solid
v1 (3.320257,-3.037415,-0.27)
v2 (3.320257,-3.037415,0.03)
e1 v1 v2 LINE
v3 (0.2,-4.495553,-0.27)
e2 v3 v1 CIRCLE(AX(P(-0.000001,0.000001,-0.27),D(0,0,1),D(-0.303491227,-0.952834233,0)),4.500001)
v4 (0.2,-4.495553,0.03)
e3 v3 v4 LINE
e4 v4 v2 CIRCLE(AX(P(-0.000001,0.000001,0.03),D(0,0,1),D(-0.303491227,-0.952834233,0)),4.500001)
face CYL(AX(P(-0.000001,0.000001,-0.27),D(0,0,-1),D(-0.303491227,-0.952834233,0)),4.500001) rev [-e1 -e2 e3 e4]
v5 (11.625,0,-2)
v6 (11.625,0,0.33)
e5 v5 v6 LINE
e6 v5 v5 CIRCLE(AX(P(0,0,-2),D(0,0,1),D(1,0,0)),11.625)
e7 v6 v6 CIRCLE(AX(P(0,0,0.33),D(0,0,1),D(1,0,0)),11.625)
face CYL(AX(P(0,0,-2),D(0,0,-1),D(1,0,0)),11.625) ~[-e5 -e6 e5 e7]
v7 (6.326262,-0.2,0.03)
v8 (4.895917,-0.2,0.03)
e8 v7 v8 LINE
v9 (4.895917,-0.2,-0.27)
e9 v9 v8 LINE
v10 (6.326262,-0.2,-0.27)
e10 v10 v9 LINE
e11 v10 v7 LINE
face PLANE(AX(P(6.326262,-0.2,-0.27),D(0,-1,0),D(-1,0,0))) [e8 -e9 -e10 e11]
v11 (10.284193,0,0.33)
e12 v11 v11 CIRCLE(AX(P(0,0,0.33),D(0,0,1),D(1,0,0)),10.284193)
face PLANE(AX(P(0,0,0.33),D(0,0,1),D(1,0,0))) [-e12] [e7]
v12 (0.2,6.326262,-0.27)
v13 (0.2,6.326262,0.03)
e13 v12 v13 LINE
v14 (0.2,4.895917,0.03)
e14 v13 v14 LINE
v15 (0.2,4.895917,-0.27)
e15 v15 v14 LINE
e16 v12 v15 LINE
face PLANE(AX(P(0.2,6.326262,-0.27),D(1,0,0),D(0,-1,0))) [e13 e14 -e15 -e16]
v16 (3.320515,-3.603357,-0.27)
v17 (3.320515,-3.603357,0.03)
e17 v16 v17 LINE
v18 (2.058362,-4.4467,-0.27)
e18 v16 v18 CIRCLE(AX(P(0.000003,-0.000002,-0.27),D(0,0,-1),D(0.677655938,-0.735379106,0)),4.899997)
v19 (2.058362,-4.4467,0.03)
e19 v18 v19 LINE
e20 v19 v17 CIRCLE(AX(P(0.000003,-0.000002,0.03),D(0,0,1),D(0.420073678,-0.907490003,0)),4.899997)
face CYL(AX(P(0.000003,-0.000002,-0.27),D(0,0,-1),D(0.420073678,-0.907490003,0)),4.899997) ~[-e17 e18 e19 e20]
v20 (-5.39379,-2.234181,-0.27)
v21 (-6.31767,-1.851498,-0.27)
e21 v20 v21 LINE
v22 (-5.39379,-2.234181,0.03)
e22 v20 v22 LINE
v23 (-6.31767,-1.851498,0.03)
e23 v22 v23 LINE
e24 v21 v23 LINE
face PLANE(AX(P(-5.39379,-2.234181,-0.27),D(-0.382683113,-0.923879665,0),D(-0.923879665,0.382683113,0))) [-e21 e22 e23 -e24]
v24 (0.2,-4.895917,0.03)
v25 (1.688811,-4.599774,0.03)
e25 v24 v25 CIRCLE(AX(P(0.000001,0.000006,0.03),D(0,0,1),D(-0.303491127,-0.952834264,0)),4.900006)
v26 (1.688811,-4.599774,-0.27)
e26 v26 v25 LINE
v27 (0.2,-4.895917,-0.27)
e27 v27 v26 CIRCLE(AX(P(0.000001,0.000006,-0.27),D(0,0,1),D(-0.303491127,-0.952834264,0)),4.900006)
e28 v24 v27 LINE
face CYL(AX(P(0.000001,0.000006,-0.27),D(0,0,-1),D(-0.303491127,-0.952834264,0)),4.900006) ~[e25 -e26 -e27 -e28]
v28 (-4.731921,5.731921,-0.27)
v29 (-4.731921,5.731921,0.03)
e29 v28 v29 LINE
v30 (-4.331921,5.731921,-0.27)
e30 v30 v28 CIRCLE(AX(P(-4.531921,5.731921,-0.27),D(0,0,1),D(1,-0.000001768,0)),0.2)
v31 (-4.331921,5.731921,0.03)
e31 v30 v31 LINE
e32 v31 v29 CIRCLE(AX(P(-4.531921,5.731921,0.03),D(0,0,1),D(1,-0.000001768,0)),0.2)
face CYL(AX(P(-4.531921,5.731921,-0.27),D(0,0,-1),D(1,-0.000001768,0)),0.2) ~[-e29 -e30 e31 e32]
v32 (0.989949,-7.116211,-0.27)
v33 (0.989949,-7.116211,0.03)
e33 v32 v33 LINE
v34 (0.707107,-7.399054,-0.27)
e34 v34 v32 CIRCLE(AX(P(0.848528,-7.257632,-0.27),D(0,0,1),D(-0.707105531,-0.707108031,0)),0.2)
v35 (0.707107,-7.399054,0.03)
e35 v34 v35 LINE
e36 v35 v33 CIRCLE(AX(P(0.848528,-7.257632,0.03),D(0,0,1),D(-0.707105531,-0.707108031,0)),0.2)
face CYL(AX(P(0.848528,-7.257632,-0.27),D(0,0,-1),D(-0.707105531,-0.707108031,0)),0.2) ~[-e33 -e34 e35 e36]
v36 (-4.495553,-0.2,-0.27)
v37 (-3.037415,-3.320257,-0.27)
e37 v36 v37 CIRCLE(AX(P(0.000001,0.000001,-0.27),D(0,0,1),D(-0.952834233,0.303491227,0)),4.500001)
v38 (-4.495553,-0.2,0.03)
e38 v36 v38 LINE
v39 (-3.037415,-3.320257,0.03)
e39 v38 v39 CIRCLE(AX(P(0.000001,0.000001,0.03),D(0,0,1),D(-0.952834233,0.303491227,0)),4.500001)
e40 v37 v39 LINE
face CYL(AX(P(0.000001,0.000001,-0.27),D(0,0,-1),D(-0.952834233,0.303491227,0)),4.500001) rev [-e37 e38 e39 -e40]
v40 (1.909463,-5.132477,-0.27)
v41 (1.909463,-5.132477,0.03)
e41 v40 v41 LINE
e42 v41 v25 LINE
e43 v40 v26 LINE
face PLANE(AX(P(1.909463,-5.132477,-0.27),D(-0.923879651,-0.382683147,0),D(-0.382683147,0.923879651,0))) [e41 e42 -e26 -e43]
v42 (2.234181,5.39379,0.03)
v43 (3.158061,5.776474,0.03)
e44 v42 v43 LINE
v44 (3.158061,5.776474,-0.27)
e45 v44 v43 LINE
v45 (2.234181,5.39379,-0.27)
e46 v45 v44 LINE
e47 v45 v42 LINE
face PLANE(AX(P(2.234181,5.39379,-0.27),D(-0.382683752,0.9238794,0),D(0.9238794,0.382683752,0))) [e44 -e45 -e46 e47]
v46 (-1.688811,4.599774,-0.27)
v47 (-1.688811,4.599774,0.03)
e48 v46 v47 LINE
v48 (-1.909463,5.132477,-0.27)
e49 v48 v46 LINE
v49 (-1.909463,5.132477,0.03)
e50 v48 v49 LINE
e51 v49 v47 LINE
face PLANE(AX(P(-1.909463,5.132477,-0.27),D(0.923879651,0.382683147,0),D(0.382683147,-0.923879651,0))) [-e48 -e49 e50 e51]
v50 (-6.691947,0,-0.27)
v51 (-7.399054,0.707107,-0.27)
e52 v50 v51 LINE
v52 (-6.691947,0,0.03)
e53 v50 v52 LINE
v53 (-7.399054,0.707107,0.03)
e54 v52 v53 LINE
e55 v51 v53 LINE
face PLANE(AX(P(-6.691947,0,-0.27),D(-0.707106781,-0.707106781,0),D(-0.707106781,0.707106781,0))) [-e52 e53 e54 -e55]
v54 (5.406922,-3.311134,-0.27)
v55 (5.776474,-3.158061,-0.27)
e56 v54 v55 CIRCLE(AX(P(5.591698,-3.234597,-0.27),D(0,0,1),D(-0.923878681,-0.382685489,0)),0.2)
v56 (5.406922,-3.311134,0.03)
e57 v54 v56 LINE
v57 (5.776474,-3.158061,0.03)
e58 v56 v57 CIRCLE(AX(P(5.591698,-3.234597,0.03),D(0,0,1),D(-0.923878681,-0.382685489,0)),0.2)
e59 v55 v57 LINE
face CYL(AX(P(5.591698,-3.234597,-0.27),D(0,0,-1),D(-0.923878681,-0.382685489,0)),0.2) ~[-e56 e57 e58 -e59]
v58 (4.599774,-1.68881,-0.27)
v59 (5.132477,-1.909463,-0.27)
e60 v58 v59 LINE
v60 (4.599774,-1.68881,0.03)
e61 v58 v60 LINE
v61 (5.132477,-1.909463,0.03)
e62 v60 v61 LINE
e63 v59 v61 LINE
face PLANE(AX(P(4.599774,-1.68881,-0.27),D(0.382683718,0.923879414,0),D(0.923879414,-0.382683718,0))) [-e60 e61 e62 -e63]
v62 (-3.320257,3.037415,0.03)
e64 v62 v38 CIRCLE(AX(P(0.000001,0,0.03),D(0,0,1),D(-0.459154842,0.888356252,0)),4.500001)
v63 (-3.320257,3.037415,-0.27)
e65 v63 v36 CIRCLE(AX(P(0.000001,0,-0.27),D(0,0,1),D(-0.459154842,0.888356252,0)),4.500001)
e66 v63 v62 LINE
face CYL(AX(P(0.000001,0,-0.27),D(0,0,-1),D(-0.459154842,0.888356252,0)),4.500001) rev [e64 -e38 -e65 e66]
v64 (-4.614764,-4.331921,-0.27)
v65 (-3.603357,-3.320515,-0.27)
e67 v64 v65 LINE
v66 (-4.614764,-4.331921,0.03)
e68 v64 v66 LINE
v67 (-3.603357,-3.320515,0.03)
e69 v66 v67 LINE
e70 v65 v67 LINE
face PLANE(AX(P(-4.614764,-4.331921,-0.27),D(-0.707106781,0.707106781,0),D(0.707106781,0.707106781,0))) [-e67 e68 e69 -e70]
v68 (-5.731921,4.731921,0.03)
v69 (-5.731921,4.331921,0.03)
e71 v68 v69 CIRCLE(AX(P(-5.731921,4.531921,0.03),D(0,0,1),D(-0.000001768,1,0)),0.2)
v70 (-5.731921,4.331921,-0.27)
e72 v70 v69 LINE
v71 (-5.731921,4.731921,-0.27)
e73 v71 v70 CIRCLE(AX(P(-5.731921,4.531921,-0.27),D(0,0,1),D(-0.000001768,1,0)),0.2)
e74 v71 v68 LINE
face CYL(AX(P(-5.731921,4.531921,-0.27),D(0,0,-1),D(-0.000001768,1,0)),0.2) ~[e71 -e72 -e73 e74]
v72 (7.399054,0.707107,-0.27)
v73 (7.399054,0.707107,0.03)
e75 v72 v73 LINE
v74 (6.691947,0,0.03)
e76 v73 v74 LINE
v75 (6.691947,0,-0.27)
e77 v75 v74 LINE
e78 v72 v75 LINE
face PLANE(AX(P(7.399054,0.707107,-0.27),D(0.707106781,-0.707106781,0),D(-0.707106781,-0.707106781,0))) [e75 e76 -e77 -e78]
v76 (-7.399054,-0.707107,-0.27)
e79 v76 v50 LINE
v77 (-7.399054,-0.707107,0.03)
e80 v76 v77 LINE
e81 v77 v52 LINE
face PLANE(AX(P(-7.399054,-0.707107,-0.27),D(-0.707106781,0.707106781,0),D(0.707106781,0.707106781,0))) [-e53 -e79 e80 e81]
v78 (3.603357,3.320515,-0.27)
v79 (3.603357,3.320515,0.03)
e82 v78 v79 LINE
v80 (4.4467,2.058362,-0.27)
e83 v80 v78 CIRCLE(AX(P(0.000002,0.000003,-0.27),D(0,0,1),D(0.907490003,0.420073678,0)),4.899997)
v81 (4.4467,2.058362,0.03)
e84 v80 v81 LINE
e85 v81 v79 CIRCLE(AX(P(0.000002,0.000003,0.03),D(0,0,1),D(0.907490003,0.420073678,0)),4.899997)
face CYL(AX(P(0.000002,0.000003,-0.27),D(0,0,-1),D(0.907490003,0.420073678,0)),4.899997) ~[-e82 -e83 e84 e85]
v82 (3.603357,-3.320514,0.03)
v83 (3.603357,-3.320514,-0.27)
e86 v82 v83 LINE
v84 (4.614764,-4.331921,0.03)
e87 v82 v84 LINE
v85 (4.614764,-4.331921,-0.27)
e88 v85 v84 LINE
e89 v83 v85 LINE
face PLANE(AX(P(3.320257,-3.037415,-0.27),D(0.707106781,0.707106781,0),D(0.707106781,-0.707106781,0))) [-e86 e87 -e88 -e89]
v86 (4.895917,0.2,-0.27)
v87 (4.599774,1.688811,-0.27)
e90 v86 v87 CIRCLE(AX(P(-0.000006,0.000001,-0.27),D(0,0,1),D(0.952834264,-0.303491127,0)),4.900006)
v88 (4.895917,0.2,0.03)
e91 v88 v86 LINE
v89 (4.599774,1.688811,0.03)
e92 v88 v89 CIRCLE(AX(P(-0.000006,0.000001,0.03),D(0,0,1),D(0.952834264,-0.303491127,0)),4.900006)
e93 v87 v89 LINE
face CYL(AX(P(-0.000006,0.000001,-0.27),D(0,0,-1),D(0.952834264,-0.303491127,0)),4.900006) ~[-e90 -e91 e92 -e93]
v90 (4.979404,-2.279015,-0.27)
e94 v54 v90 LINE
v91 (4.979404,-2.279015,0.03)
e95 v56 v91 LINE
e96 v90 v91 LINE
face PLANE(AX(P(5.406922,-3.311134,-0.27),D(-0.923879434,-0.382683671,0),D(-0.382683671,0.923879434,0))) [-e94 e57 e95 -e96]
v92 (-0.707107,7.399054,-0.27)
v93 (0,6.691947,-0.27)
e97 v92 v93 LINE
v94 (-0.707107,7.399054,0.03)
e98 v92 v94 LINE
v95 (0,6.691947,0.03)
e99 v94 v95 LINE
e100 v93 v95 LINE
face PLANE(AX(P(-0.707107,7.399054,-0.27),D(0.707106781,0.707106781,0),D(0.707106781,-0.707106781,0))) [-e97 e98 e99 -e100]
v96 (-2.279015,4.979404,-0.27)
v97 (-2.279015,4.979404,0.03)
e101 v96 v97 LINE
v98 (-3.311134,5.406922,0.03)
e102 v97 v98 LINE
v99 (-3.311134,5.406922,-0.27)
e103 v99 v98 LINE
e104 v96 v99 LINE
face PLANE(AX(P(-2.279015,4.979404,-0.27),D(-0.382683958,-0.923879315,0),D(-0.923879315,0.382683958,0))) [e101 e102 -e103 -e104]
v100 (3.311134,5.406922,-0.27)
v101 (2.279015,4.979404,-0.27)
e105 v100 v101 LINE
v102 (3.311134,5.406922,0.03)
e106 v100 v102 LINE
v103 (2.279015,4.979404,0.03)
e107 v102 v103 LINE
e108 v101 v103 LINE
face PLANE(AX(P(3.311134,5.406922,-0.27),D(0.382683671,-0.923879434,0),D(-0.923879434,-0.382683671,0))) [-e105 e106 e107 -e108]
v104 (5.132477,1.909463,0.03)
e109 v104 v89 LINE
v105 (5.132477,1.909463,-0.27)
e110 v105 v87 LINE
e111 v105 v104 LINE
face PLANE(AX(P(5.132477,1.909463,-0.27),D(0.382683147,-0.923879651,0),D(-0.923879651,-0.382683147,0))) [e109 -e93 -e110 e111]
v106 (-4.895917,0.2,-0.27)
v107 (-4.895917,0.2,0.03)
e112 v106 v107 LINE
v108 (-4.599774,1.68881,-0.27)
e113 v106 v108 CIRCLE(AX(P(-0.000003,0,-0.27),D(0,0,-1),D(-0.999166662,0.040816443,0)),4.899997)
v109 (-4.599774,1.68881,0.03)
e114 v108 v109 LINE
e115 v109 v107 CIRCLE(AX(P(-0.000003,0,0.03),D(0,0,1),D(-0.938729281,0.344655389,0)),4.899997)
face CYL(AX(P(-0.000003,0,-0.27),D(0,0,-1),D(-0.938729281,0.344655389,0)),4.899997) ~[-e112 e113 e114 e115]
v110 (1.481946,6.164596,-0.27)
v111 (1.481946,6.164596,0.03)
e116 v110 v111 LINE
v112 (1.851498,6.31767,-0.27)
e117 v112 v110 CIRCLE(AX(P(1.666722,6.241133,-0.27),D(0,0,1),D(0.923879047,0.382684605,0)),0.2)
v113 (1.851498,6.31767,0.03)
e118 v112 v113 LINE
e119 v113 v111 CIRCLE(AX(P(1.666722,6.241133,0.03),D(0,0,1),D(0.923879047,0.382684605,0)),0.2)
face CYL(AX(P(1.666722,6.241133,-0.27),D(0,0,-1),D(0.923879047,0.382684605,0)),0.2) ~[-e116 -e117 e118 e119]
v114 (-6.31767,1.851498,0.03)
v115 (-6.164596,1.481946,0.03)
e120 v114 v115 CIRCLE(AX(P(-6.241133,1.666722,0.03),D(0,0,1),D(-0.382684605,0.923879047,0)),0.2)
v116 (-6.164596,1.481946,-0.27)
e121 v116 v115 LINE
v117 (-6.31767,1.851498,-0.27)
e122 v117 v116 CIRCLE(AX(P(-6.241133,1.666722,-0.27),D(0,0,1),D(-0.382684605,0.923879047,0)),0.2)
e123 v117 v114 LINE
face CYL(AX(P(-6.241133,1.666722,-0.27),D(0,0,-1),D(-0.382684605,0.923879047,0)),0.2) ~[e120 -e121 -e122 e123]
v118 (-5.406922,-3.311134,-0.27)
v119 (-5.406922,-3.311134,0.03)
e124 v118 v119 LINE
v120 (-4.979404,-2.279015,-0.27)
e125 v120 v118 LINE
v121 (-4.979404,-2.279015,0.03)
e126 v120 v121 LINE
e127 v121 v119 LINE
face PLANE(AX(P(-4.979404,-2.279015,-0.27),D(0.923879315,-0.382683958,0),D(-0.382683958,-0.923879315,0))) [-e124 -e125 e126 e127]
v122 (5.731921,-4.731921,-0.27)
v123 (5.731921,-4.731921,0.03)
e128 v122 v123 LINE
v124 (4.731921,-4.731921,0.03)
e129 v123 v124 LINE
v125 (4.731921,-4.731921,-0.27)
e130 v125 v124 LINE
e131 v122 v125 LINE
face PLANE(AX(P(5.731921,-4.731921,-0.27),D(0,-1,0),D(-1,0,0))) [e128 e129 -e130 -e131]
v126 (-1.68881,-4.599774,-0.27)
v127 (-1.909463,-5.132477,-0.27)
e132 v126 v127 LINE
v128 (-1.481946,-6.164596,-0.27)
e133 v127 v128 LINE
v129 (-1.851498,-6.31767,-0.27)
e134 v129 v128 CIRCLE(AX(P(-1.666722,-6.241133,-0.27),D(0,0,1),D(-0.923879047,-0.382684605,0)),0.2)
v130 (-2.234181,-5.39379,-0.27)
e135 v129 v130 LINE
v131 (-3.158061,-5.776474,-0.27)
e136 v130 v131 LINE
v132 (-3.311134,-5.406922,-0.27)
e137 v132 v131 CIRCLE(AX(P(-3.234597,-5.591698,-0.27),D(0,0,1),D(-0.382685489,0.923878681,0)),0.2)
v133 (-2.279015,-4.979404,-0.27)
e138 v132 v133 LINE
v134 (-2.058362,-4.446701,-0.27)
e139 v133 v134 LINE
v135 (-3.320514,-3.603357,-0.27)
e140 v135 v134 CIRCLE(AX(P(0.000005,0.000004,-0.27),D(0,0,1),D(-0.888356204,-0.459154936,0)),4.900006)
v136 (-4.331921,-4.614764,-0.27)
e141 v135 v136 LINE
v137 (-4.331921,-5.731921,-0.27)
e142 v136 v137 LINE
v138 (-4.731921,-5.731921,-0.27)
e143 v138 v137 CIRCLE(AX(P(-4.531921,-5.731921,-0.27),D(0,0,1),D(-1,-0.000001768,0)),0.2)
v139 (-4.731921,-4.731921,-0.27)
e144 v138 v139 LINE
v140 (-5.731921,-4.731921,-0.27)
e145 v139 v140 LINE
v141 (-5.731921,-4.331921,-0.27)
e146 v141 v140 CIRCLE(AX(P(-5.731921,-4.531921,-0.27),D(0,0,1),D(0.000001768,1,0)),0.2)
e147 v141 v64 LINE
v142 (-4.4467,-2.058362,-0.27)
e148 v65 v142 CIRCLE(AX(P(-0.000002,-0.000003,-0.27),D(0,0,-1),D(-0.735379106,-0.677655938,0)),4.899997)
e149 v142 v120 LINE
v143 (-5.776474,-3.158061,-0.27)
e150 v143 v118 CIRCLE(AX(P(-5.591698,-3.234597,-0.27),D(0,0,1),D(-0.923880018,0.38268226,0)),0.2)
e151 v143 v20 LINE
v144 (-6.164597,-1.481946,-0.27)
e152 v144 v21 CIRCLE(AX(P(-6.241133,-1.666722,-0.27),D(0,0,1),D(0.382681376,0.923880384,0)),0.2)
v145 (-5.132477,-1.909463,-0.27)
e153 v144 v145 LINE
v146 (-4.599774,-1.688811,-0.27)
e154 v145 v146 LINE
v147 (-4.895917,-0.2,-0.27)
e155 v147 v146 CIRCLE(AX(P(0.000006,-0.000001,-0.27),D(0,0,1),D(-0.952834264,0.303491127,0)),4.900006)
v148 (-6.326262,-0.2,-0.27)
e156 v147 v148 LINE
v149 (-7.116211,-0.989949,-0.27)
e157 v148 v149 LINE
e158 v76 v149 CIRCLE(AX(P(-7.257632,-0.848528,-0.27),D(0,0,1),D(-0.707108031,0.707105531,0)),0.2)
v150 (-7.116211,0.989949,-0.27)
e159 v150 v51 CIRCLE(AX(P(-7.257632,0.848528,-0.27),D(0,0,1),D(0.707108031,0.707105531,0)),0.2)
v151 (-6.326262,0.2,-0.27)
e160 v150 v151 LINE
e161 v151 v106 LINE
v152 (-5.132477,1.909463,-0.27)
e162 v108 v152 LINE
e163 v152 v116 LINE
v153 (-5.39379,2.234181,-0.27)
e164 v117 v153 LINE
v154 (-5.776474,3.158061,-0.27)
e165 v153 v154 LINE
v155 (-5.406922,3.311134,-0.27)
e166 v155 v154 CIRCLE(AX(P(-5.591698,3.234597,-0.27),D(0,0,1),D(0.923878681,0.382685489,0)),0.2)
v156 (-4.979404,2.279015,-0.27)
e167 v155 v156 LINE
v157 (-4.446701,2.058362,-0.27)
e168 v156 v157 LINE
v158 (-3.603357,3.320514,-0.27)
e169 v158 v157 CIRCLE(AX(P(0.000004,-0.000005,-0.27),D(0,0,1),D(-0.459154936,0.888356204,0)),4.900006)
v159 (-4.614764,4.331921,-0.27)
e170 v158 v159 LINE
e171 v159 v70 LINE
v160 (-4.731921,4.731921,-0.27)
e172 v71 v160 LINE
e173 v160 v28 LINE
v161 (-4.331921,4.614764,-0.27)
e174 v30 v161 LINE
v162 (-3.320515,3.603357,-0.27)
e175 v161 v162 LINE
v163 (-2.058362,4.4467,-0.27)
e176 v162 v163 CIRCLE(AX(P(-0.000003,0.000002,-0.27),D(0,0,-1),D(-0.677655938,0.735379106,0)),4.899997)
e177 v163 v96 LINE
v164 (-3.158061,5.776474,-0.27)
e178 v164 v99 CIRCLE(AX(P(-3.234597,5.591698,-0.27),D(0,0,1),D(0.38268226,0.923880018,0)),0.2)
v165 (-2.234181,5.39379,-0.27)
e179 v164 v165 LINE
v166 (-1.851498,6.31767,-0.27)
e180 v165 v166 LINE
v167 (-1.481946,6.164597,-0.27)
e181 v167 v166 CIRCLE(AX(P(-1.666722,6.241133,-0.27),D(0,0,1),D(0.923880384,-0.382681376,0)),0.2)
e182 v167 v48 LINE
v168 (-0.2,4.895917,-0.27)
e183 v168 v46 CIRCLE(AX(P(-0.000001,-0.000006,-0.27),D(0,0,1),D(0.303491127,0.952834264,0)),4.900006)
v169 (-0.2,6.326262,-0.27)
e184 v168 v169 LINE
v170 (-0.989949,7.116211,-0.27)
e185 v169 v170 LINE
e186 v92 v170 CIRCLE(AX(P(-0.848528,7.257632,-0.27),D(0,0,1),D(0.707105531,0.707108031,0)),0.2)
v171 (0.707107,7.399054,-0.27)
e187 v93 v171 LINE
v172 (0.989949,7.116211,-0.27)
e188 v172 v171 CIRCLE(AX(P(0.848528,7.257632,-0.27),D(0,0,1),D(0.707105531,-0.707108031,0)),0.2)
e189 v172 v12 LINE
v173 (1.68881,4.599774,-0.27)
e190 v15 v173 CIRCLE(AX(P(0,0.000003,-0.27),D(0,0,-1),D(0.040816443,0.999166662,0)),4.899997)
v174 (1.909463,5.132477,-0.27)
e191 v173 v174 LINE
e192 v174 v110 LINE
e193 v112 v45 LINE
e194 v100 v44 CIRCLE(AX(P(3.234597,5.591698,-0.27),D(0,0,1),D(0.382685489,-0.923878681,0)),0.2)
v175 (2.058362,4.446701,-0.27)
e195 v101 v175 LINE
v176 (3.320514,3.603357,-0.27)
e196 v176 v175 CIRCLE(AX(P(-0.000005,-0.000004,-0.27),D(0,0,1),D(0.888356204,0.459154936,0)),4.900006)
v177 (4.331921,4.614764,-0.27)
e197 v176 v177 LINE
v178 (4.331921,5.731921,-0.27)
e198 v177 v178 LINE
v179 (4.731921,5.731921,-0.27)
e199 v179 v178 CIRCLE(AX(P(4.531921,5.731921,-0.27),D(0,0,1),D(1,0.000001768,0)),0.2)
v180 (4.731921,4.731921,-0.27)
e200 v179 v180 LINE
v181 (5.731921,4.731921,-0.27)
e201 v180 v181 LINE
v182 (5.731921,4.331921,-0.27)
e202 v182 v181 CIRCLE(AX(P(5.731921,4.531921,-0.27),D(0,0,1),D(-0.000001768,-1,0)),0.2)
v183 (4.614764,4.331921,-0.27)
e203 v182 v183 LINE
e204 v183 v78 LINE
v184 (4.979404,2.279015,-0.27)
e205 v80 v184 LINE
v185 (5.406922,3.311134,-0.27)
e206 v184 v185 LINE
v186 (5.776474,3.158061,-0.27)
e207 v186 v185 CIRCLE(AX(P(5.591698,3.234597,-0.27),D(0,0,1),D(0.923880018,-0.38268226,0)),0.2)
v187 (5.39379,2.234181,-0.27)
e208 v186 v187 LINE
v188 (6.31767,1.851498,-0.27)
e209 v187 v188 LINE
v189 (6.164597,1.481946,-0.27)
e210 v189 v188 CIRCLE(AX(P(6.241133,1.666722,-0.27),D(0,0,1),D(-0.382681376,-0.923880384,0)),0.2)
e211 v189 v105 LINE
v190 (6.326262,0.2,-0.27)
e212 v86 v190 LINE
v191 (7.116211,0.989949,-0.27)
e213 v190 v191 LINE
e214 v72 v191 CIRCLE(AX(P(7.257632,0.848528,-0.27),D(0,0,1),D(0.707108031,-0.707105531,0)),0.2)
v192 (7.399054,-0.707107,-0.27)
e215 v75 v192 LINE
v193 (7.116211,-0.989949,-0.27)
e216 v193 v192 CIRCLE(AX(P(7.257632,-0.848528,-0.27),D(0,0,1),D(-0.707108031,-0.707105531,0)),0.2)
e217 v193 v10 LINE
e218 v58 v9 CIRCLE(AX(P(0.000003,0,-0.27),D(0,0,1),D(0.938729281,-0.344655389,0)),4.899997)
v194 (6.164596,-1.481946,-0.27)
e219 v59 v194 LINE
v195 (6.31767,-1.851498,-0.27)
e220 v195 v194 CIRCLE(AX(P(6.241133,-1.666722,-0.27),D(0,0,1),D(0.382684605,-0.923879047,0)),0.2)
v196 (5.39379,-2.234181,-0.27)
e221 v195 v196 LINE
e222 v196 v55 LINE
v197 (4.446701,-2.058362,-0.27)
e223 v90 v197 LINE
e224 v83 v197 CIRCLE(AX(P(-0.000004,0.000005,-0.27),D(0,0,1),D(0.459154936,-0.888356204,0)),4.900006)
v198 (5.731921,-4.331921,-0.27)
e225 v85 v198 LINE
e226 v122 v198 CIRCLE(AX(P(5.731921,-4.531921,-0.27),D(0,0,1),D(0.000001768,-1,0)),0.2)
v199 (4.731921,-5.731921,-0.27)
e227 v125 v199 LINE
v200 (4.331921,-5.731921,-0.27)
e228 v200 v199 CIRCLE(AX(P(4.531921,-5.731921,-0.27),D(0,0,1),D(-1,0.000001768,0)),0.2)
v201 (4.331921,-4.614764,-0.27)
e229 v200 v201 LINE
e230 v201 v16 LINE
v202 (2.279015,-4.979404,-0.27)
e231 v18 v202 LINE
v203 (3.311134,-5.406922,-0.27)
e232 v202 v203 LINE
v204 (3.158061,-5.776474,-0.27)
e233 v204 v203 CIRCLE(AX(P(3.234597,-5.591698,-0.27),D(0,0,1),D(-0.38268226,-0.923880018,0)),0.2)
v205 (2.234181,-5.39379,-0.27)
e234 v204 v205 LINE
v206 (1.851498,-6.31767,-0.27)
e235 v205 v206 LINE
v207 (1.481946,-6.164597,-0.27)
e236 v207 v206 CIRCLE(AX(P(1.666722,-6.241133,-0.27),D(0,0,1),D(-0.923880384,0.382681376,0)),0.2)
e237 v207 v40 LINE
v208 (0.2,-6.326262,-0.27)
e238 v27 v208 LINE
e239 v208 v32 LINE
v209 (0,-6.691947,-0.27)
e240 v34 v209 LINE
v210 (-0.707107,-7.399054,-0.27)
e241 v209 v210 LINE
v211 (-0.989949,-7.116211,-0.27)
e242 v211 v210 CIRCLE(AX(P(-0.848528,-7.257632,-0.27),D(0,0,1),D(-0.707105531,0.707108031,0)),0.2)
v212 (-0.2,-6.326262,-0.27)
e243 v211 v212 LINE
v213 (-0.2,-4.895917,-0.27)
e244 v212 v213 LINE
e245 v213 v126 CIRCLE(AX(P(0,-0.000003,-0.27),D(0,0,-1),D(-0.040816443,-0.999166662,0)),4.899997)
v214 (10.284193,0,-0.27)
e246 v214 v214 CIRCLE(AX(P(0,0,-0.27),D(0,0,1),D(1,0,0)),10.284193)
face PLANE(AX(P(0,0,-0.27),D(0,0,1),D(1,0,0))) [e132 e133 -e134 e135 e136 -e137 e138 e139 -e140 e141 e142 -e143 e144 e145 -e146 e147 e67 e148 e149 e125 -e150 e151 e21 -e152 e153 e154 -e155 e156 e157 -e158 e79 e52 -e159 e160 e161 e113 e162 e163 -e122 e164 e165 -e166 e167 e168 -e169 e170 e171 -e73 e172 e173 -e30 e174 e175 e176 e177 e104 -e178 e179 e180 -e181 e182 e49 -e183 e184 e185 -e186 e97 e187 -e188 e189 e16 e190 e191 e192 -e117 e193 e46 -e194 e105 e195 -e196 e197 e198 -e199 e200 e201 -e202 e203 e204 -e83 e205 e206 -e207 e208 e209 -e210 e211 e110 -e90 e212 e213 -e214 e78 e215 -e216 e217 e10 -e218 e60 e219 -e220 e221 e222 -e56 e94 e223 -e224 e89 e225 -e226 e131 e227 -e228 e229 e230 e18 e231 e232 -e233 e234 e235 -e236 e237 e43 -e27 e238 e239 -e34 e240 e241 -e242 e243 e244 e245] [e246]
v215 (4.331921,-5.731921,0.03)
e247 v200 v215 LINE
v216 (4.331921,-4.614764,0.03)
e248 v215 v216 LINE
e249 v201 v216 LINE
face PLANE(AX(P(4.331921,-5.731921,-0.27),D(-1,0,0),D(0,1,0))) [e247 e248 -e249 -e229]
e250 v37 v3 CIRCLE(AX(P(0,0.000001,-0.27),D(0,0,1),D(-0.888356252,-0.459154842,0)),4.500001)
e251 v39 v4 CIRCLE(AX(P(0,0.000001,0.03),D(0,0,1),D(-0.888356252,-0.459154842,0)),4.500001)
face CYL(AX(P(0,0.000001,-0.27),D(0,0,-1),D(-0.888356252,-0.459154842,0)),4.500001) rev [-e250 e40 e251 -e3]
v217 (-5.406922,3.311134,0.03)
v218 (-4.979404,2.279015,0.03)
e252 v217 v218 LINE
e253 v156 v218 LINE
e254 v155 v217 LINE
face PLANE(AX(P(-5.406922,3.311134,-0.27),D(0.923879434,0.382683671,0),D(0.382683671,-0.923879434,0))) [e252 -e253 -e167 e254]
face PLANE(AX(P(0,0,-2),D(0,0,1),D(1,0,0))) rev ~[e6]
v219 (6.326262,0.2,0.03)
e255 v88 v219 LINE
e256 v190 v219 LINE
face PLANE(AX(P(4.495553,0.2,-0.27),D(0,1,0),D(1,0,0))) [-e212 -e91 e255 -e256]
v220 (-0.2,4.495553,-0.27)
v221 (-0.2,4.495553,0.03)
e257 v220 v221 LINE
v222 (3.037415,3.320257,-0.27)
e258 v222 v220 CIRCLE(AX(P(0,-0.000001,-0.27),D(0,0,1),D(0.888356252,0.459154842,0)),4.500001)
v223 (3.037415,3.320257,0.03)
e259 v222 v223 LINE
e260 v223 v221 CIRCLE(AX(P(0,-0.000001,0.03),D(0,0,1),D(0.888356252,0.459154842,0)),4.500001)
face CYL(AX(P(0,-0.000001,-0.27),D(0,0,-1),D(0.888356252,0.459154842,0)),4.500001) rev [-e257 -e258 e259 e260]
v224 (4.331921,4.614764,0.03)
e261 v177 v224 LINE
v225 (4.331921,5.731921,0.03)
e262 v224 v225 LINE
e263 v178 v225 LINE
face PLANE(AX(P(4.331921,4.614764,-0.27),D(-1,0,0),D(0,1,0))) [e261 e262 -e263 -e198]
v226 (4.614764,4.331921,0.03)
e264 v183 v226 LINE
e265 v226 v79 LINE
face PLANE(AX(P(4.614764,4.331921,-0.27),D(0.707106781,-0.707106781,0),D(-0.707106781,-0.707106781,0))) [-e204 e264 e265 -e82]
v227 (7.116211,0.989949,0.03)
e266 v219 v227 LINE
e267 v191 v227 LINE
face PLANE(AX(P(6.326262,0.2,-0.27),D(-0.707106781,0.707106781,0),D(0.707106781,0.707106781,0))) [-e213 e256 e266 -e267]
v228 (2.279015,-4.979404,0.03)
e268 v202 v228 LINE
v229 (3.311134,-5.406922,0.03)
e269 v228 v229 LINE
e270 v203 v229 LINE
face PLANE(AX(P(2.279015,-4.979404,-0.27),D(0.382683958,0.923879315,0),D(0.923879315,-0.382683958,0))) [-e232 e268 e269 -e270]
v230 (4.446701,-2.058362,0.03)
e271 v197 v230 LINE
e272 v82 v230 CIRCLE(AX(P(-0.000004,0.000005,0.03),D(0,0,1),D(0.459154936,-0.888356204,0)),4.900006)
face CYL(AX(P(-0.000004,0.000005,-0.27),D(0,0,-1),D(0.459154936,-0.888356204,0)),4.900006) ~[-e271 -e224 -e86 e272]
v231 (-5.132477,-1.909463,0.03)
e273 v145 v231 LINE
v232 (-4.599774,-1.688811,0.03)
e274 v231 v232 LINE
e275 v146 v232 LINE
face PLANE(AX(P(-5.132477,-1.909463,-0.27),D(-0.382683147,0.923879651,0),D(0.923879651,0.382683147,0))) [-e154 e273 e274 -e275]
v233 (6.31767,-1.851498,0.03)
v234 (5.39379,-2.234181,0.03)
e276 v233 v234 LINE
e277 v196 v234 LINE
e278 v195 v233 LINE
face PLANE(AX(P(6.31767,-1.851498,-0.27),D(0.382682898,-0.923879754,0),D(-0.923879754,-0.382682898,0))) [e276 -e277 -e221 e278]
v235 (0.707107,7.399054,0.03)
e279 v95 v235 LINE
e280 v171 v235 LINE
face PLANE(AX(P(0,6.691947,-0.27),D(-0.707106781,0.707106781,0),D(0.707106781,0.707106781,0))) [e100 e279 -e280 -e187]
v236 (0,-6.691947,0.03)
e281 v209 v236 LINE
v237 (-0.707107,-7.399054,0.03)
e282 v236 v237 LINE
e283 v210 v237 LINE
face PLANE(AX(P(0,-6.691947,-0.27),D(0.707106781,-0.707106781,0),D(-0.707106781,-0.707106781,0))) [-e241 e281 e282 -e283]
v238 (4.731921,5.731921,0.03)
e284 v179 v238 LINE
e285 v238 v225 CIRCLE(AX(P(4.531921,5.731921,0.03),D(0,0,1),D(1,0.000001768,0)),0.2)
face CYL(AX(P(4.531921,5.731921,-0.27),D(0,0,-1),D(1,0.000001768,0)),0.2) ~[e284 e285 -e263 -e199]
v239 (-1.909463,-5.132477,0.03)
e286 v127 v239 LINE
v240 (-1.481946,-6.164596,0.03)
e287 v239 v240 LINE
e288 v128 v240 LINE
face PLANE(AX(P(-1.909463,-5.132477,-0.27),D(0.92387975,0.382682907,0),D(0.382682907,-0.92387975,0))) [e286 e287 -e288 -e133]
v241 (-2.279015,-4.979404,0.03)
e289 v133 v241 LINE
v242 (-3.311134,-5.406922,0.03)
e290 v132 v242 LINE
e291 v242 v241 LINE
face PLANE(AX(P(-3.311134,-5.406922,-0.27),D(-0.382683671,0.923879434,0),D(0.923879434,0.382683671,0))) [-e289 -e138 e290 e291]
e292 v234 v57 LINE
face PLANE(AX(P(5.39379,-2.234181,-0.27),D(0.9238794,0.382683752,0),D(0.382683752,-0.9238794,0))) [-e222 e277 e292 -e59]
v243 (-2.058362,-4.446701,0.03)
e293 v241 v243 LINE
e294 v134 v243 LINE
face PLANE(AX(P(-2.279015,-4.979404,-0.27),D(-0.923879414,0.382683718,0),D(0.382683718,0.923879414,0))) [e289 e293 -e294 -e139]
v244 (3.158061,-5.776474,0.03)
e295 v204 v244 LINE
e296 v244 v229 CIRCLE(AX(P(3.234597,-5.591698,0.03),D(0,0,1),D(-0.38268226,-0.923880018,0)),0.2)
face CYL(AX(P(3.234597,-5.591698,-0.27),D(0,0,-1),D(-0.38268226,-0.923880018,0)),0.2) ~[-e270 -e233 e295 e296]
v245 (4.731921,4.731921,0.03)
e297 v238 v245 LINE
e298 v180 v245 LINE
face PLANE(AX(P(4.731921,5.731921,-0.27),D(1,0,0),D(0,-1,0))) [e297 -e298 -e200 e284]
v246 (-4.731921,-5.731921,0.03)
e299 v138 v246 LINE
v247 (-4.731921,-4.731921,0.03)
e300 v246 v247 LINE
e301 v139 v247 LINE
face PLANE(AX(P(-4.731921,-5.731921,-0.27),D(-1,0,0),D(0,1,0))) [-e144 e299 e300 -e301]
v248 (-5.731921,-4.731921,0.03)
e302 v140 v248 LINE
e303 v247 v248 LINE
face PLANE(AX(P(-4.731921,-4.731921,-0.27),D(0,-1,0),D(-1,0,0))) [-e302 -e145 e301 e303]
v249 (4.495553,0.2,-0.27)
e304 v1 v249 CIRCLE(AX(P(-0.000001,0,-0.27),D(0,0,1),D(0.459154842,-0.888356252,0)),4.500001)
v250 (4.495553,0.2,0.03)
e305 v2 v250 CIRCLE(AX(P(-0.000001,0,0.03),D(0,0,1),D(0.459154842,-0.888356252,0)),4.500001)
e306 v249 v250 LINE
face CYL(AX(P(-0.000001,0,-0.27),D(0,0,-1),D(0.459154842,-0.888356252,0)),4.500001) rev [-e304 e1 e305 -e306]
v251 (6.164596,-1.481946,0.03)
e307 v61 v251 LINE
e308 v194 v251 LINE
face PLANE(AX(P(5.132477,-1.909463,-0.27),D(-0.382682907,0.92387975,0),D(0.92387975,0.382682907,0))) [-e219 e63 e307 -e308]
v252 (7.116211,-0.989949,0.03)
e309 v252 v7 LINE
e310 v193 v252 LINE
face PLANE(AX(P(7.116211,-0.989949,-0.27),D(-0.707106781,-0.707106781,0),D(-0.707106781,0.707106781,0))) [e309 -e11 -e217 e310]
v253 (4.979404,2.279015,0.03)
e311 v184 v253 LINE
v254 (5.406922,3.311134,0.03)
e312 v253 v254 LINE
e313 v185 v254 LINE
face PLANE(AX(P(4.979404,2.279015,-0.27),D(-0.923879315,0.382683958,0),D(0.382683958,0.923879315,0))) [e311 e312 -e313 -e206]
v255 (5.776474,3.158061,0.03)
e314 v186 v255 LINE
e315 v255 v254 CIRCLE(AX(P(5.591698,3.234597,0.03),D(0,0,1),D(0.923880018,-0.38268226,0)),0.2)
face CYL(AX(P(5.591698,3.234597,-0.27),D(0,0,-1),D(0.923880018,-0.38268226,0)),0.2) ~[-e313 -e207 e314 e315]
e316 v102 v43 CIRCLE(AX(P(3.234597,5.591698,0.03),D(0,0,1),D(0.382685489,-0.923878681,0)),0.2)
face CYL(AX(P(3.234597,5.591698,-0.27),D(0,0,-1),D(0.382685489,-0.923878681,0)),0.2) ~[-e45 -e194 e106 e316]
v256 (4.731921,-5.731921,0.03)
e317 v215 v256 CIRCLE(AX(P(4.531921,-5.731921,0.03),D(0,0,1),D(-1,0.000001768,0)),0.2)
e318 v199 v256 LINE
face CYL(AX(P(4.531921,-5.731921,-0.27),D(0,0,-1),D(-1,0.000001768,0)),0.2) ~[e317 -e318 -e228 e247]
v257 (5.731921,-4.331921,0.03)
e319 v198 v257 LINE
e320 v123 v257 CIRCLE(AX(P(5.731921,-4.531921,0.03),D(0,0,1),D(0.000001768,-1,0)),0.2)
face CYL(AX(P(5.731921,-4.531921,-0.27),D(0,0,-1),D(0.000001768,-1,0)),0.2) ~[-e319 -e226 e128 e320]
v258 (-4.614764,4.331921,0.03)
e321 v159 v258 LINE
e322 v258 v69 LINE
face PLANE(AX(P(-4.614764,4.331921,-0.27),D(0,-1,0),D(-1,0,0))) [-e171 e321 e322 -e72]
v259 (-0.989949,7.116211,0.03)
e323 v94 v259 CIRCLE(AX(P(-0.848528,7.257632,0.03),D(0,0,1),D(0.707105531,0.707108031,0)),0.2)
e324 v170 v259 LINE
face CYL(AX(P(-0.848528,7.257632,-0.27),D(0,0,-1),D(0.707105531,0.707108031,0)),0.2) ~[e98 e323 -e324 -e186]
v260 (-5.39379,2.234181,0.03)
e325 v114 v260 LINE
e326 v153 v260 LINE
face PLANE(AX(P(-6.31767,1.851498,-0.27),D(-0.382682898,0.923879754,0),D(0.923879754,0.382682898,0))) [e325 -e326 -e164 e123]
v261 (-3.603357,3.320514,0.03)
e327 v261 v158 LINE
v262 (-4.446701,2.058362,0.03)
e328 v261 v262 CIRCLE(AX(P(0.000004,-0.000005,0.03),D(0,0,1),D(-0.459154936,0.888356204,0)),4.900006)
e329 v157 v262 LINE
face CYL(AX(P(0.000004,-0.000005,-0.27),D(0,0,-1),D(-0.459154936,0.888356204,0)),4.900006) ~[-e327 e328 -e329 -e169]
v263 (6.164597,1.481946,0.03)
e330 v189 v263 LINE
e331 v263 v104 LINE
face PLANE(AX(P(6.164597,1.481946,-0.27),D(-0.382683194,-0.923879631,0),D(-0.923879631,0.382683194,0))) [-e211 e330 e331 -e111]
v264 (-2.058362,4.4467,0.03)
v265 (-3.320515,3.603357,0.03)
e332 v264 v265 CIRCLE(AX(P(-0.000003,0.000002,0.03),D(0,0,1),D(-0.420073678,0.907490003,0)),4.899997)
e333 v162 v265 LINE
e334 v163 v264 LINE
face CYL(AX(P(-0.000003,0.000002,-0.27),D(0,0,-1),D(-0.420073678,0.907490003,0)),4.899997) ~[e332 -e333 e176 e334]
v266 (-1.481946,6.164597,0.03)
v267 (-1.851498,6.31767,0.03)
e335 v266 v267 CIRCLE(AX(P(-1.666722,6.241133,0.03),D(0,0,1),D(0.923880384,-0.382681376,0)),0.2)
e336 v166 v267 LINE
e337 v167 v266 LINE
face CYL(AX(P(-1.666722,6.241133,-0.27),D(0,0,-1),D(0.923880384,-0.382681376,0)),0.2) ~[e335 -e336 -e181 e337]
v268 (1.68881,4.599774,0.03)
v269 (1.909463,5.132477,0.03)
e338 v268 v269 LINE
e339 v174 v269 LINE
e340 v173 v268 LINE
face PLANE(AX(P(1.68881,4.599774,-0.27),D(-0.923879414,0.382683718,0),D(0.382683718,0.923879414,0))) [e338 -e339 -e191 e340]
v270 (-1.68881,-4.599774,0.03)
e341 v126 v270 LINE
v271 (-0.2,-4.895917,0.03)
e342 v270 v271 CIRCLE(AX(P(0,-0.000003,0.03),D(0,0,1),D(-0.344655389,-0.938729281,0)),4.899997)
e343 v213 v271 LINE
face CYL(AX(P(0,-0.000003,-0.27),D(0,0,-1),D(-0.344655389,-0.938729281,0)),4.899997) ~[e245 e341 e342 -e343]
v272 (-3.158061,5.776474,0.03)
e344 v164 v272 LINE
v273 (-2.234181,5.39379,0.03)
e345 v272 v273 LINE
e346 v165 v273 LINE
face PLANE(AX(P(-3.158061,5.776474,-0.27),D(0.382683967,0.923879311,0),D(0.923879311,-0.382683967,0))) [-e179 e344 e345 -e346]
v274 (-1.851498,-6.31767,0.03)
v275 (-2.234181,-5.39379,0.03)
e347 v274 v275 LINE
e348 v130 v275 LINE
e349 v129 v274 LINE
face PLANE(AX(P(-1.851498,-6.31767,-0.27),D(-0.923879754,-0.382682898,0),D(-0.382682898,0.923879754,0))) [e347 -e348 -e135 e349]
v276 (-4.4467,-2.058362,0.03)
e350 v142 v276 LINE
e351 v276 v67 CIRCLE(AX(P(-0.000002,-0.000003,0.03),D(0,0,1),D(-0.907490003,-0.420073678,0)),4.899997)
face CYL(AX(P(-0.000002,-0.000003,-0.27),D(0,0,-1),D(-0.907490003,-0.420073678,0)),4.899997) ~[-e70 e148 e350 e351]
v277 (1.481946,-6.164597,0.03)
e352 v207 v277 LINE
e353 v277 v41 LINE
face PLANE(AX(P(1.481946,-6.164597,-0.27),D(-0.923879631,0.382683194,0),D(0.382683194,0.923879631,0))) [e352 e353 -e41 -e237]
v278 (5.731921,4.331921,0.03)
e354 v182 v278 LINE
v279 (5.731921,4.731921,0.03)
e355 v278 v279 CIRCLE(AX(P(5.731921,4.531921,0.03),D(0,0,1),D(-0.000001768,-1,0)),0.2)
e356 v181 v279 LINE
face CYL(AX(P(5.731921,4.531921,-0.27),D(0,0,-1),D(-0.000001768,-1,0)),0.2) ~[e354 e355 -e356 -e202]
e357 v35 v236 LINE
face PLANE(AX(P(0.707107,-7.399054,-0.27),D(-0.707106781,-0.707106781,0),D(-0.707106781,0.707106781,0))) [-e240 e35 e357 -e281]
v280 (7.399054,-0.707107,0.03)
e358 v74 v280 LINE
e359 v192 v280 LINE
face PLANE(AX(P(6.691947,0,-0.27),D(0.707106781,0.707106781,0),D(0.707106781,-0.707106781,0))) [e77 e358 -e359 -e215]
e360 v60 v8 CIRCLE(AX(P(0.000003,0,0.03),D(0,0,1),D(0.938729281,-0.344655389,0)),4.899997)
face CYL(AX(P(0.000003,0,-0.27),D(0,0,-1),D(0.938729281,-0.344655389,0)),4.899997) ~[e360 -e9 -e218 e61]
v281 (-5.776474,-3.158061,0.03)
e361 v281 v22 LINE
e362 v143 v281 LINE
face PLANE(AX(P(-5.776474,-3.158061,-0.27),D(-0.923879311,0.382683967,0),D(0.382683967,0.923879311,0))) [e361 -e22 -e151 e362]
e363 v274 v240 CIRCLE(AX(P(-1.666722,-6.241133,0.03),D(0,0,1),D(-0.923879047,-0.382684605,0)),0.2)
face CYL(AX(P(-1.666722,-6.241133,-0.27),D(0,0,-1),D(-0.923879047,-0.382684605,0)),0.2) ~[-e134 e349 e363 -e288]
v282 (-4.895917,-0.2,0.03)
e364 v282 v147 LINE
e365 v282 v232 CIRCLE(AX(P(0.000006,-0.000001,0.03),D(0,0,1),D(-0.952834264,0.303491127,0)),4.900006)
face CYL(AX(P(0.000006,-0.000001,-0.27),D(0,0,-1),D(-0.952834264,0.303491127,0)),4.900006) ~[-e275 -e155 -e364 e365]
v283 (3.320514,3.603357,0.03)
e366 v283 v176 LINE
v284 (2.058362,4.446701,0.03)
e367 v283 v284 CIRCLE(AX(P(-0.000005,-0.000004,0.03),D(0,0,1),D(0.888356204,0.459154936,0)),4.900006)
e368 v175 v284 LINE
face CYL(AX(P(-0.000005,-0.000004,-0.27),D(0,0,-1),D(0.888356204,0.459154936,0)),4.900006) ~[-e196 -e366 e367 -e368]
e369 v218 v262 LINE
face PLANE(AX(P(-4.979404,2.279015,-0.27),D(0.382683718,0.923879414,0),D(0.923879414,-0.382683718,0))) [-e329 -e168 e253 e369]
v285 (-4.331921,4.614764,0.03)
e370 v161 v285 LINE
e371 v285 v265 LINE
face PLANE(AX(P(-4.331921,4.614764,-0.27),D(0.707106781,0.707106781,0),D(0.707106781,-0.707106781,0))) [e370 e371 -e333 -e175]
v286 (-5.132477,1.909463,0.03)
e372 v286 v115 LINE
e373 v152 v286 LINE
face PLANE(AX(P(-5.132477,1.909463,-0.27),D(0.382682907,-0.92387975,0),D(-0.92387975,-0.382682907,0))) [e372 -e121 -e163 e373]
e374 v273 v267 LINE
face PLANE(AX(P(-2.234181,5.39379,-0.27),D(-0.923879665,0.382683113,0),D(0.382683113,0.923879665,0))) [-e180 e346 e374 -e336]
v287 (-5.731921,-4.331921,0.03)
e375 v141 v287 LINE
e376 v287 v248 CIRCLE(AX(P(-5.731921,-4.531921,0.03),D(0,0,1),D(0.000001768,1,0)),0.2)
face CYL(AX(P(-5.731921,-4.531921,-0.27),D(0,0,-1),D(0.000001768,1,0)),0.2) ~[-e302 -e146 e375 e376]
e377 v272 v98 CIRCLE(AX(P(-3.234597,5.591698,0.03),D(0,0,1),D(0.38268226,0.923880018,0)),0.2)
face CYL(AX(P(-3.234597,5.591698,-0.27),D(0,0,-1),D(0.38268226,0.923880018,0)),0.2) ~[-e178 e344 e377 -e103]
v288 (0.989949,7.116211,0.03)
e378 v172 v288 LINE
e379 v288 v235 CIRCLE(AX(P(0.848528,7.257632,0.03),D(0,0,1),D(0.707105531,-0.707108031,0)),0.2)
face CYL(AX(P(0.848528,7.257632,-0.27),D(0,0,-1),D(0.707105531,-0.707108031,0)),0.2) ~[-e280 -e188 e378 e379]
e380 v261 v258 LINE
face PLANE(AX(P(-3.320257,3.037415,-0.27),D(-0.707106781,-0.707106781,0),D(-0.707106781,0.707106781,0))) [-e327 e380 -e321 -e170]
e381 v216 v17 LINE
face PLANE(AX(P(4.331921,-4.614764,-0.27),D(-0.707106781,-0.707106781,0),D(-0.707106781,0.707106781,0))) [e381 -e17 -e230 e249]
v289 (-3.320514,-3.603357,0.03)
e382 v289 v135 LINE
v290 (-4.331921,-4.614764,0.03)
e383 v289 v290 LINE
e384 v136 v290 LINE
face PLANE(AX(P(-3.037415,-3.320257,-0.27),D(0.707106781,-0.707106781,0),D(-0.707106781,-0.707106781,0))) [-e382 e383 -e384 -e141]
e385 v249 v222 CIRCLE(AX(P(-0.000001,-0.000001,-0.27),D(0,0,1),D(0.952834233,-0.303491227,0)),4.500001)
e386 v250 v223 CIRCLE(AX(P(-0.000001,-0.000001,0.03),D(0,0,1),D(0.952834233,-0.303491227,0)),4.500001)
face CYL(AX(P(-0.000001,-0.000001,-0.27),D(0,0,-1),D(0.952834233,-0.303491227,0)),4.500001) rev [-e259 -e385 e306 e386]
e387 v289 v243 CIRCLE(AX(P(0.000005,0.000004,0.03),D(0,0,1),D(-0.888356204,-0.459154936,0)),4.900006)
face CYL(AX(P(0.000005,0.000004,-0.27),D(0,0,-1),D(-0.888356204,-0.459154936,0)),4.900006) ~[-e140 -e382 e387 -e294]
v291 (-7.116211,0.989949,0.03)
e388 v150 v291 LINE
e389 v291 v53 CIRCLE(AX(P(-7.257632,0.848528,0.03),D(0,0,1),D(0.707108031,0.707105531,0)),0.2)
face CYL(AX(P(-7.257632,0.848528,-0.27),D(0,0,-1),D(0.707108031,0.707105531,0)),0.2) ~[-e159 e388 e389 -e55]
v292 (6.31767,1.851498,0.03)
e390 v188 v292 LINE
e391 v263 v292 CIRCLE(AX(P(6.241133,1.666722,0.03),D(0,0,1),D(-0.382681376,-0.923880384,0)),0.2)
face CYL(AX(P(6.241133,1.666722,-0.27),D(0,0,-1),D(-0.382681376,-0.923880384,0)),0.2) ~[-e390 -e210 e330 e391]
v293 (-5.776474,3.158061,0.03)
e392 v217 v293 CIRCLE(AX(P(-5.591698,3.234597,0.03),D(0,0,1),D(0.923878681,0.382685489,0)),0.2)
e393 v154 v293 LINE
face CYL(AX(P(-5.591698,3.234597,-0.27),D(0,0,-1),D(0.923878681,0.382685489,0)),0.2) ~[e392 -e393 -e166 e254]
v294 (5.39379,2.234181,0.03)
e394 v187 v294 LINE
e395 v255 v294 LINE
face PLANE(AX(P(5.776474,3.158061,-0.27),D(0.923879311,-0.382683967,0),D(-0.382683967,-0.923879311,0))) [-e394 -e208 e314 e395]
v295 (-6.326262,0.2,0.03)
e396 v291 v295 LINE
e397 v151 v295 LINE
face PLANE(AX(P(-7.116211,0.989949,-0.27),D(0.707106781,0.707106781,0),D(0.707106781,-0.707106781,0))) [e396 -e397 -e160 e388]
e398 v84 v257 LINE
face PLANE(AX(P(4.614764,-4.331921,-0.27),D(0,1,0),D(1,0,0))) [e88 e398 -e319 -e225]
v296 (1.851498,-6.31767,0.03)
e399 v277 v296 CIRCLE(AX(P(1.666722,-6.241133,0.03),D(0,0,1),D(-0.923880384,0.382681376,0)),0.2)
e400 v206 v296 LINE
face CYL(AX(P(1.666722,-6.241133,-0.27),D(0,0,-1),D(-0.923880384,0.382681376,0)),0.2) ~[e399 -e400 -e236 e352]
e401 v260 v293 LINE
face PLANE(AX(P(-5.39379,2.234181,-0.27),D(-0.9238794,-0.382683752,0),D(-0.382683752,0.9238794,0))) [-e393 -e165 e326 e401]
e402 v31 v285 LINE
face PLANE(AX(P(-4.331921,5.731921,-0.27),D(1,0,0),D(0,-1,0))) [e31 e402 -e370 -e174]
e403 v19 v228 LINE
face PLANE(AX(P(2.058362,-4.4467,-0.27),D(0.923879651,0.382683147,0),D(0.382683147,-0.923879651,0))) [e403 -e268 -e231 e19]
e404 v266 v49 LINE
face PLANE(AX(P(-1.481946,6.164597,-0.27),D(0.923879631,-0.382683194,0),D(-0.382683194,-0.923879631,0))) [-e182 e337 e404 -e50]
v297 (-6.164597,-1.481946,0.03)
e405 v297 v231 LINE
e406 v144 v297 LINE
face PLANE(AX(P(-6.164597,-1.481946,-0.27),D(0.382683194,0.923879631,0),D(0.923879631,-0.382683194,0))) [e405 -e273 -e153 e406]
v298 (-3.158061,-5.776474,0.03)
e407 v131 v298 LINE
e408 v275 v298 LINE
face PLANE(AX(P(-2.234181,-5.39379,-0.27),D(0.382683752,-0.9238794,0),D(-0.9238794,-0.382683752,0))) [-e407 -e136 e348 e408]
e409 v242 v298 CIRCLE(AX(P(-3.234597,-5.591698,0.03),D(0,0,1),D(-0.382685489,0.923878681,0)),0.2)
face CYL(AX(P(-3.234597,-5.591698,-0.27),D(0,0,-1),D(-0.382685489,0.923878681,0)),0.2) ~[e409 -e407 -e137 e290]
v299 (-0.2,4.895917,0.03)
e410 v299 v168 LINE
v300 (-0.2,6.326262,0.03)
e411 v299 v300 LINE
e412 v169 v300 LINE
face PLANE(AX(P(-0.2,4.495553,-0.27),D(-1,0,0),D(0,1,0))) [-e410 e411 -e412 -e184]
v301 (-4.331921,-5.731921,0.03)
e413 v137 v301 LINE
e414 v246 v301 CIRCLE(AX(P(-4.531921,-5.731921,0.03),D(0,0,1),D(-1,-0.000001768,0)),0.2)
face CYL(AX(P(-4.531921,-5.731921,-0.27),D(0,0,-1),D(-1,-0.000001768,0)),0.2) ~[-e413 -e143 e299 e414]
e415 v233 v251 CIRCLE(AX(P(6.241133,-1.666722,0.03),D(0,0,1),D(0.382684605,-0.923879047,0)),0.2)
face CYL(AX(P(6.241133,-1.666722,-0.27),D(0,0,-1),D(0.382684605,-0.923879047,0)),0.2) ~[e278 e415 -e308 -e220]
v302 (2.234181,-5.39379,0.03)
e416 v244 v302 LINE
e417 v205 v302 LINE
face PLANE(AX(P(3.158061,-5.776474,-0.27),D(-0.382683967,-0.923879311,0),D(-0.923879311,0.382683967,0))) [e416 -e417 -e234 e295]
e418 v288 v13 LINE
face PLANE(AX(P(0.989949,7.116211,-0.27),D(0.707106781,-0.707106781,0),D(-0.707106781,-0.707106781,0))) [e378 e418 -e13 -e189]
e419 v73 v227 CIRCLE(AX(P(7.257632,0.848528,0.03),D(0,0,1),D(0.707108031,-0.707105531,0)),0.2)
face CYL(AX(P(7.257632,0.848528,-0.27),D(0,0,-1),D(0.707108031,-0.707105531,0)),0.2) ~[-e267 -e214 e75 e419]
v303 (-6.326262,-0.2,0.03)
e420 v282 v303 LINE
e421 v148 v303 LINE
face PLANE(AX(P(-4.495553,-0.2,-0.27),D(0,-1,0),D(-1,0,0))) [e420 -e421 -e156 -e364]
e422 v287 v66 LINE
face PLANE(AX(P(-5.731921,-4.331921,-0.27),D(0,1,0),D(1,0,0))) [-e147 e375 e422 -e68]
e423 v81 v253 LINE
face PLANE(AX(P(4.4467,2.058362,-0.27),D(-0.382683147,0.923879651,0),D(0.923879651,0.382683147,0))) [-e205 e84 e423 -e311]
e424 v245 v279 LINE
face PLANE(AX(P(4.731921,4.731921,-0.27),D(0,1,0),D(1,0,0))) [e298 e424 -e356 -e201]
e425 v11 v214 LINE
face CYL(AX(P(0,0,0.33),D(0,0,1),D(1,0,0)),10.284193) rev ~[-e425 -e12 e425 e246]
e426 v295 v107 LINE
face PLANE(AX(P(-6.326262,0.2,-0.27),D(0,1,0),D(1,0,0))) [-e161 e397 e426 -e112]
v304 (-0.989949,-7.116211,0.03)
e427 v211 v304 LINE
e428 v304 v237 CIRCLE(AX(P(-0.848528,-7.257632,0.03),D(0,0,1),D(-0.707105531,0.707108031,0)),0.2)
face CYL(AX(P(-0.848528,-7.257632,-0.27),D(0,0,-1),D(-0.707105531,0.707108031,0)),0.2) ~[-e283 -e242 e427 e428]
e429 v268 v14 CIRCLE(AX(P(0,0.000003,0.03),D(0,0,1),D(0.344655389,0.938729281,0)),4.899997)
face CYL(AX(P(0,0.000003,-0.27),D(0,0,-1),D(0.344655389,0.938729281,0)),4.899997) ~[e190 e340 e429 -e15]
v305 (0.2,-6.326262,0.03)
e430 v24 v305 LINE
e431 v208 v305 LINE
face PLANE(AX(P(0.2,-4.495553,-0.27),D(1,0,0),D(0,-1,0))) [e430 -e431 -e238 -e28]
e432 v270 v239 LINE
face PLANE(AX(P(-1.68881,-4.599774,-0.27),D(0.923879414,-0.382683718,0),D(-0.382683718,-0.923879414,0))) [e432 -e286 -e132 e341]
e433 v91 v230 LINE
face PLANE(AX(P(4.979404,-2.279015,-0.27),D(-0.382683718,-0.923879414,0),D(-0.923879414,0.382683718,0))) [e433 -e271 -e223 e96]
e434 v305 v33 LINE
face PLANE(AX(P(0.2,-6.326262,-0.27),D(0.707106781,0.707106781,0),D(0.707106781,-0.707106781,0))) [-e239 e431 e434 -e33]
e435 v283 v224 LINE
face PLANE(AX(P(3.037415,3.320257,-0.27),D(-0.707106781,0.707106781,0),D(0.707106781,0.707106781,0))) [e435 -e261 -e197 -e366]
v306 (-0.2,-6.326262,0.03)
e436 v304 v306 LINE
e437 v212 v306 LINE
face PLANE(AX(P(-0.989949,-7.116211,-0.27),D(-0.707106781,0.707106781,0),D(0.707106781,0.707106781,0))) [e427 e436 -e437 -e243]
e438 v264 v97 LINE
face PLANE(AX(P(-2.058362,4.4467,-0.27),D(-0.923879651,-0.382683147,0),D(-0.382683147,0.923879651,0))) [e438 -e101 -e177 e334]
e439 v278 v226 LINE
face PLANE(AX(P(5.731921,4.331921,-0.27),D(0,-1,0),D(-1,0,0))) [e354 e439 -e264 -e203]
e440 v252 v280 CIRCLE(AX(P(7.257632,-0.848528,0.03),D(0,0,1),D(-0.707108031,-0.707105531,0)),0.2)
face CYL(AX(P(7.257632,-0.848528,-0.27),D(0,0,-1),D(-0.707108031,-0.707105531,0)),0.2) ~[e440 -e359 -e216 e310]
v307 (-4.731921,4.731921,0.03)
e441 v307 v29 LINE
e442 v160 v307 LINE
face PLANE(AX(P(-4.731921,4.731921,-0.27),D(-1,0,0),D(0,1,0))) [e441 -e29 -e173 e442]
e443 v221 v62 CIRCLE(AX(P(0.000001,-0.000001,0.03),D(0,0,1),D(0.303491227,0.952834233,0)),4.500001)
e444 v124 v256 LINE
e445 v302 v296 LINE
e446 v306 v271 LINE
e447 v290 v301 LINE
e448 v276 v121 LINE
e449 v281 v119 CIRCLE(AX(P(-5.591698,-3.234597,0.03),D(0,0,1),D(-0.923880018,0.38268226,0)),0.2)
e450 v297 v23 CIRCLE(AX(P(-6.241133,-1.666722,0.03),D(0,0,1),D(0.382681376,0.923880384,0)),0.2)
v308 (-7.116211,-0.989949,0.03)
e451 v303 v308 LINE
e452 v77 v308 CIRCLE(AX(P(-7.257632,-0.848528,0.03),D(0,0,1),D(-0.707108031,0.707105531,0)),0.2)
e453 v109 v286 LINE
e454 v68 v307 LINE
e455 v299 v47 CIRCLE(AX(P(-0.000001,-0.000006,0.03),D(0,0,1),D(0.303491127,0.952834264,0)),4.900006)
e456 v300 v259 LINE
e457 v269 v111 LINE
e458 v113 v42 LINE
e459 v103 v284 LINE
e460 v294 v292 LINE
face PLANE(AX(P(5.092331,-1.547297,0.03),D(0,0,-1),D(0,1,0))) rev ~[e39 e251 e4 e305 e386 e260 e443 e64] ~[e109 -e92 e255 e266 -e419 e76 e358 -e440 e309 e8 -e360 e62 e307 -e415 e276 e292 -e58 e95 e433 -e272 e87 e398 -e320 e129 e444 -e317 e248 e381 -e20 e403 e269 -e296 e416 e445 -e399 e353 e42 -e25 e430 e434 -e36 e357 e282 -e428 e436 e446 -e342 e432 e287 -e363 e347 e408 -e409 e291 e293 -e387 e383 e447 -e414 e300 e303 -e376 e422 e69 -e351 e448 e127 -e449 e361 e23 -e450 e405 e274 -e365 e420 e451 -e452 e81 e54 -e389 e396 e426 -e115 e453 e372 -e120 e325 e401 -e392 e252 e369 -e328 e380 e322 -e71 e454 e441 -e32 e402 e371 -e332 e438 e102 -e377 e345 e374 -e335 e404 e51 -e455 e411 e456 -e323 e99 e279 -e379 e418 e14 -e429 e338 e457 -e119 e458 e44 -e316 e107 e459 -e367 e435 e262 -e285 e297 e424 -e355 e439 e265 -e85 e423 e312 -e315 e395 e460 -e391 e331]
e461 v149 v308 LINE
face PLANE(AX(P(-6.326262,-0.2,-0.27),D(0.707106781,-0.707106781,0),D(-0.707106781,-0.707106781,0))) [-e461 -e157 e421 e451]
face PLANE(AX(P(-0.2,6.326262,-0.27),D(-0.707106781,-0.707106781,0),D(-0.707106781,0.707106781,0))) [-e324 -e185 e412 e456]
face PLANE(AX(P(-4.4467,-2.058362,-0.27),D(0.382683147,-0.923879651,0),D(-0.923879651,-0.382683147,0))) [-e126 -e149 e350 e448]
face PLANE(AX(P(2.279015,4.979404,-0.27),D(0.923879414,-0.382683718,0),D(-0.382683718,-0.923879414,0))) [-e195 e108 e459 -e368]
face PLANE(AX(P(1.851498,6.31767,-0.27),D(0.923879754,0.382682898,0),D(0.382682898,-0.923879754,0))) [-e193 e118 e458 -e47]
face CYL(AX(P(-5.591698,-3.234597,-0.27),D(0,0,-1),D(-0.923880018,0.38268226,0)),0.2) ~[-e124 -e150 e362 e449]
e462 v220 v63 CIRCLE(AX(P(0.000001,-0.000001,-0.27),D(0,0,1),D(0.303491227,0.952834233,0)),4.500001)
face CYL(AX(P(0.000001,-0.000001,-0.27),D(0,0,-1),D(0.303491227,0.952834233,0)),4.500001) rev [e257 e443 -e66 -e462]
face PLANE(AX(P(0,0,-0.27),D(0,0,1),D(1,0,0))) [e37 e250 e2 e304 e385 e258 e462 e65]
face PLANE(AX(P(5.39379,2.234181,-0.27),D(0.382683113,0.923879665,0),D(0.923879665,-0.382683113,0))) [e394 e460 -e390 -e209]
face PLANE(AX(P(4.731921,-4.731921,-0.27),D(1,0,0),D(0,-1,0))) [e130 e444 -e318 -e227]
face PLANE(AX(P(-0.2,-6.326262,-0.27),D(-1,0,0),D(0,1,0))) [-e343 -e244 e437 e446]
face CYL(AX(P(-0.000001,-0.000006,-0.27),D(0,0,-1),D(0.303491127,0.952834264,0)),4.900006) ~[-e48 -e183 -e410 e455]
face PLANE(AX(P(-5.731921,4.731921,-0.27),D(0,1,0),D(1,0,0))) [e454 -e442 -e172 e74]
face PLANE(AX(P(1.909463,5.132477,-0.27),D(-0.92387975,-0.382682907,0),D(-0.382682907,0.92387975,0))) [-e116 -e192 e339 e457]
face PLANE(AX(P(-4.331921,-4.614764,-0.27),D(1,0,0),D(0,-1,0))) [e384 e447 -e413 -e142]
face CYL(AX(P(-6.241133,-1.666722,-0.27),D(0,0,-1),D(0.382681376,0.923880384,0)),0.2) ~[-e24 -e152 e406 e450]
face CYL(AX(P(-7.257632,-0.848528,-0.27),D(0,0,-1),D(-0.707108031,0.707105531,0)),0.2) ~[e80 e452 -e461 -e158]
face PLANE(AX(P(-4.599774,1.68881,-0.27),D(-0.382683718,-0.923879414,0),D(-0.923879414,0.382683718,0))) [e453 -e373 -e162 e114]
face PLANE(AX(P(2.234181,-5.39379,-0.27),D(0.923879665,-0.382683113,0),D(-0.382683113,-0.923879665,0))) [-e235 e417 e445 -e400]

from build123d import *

# Parameters (mm, degrees)
SKETCH_R           = 11.625
PAD_DEPTH          = 2.33
SKETCH001_R        = 10.284193
POCKET_DEPTH       = 0.6
PAD001_DEPTH       = 0.3
POLARPATTERN_COUNT = 8


with BuildPart() as part:
    # Sketch → Pad (new body)
    with BuildSketch(Plane.XY):
        Circle(SKETCH_R)
    extrude(amount=PAD_DEPTH)

    # Sketch001 (on Face3 of Pad) → Pocket (cut)
    with BuildSketch(Plane.XY.offset(2.33)):
        Circle(SKETCH001_R)
    extrude(amount=-POCKET_DEPTH, mode=Mode.SUBTRACT)

    # Sketch002 (on Face5 of Pocket) → Pad001 (join)
    with BuildSketch(Plane.XY.offset(1.73)):
        with BuildLine():
            Line((-0.2, 4.495553), (-0.2, 6.326262))
            Line((-0.2, 6.326262), (-0.989949, 7.116211))
            ThreePointArc((-0.707107, 7.399054), (-0.989949, 7.399054), (-0.989949, 7.116211))
            Line((-0.707107, 7.399054), (0, 6.691947))
            Line((0, 6.691947), (0.707107, 7.399054))
            ThreePointArc((0.989949, 7.116211), (0.989949, 7.399054), (0.707107, 7.399054))
            Line((0.989949, 7.116211), (0.2, 6.326262))
            Line((0.2, 6.326262), (0.2, 4.895917))
            ThreePointArc((1.68881, 4.599774), (0.955943, 4.805848), (0.2, 4.895917))
            Line((1.68881, 4.599774), (1.909463, 5.132477))
            Line((1.909463, 5.132477), (1.481946, 6.164596))
            ThreePointArc((1.851498, 6.31767), (1.590185, 6.425909), (1.481946, 6.164596))
            Line((1.851498, 6.31767), (2.234181, 5.39379))
            Line((2.234181, 5.39379), (3.158061, 5.776474))
            ThreePointArc((3.311134, 5.406922), (3.419373, 5.668234), (3.158061, 5.776474))
            Line((3.311134, 5.406922), (2.279015, 4.979404))
            Line((2.279015, 4.979404), (2.058362, 4.446701))
            ThreePointArc((4.352946, 2.249858), (3.38862, 3.539386), (2.058362, 4.446701))
            Line((4.352946, 2.249858), (3.997604, 2.066196))
            ThreePointArc((3.997604, 2.066196), (2.254083, 3.894754), (-0.2, 4.495553))
        make_face()
    pad001 = extrude(amount=PAD001_DEPTH)

    # PolarPattern: Pad001 ×8 about axis
    polarpattern_axis = Axis((0, 0, 1.73), (0, 0, 1))
    for i in range(1, POLARPATTERN_COUNT):
        add(pad001.rotate(polarpattern_axis, i * 360 / POLARPATTERN_COUNT))


with BuildPart() as part_1:
    # Body placement: moved
    add(part.part.moved(Location((0, 0, -2))))


solid = part_1.part
